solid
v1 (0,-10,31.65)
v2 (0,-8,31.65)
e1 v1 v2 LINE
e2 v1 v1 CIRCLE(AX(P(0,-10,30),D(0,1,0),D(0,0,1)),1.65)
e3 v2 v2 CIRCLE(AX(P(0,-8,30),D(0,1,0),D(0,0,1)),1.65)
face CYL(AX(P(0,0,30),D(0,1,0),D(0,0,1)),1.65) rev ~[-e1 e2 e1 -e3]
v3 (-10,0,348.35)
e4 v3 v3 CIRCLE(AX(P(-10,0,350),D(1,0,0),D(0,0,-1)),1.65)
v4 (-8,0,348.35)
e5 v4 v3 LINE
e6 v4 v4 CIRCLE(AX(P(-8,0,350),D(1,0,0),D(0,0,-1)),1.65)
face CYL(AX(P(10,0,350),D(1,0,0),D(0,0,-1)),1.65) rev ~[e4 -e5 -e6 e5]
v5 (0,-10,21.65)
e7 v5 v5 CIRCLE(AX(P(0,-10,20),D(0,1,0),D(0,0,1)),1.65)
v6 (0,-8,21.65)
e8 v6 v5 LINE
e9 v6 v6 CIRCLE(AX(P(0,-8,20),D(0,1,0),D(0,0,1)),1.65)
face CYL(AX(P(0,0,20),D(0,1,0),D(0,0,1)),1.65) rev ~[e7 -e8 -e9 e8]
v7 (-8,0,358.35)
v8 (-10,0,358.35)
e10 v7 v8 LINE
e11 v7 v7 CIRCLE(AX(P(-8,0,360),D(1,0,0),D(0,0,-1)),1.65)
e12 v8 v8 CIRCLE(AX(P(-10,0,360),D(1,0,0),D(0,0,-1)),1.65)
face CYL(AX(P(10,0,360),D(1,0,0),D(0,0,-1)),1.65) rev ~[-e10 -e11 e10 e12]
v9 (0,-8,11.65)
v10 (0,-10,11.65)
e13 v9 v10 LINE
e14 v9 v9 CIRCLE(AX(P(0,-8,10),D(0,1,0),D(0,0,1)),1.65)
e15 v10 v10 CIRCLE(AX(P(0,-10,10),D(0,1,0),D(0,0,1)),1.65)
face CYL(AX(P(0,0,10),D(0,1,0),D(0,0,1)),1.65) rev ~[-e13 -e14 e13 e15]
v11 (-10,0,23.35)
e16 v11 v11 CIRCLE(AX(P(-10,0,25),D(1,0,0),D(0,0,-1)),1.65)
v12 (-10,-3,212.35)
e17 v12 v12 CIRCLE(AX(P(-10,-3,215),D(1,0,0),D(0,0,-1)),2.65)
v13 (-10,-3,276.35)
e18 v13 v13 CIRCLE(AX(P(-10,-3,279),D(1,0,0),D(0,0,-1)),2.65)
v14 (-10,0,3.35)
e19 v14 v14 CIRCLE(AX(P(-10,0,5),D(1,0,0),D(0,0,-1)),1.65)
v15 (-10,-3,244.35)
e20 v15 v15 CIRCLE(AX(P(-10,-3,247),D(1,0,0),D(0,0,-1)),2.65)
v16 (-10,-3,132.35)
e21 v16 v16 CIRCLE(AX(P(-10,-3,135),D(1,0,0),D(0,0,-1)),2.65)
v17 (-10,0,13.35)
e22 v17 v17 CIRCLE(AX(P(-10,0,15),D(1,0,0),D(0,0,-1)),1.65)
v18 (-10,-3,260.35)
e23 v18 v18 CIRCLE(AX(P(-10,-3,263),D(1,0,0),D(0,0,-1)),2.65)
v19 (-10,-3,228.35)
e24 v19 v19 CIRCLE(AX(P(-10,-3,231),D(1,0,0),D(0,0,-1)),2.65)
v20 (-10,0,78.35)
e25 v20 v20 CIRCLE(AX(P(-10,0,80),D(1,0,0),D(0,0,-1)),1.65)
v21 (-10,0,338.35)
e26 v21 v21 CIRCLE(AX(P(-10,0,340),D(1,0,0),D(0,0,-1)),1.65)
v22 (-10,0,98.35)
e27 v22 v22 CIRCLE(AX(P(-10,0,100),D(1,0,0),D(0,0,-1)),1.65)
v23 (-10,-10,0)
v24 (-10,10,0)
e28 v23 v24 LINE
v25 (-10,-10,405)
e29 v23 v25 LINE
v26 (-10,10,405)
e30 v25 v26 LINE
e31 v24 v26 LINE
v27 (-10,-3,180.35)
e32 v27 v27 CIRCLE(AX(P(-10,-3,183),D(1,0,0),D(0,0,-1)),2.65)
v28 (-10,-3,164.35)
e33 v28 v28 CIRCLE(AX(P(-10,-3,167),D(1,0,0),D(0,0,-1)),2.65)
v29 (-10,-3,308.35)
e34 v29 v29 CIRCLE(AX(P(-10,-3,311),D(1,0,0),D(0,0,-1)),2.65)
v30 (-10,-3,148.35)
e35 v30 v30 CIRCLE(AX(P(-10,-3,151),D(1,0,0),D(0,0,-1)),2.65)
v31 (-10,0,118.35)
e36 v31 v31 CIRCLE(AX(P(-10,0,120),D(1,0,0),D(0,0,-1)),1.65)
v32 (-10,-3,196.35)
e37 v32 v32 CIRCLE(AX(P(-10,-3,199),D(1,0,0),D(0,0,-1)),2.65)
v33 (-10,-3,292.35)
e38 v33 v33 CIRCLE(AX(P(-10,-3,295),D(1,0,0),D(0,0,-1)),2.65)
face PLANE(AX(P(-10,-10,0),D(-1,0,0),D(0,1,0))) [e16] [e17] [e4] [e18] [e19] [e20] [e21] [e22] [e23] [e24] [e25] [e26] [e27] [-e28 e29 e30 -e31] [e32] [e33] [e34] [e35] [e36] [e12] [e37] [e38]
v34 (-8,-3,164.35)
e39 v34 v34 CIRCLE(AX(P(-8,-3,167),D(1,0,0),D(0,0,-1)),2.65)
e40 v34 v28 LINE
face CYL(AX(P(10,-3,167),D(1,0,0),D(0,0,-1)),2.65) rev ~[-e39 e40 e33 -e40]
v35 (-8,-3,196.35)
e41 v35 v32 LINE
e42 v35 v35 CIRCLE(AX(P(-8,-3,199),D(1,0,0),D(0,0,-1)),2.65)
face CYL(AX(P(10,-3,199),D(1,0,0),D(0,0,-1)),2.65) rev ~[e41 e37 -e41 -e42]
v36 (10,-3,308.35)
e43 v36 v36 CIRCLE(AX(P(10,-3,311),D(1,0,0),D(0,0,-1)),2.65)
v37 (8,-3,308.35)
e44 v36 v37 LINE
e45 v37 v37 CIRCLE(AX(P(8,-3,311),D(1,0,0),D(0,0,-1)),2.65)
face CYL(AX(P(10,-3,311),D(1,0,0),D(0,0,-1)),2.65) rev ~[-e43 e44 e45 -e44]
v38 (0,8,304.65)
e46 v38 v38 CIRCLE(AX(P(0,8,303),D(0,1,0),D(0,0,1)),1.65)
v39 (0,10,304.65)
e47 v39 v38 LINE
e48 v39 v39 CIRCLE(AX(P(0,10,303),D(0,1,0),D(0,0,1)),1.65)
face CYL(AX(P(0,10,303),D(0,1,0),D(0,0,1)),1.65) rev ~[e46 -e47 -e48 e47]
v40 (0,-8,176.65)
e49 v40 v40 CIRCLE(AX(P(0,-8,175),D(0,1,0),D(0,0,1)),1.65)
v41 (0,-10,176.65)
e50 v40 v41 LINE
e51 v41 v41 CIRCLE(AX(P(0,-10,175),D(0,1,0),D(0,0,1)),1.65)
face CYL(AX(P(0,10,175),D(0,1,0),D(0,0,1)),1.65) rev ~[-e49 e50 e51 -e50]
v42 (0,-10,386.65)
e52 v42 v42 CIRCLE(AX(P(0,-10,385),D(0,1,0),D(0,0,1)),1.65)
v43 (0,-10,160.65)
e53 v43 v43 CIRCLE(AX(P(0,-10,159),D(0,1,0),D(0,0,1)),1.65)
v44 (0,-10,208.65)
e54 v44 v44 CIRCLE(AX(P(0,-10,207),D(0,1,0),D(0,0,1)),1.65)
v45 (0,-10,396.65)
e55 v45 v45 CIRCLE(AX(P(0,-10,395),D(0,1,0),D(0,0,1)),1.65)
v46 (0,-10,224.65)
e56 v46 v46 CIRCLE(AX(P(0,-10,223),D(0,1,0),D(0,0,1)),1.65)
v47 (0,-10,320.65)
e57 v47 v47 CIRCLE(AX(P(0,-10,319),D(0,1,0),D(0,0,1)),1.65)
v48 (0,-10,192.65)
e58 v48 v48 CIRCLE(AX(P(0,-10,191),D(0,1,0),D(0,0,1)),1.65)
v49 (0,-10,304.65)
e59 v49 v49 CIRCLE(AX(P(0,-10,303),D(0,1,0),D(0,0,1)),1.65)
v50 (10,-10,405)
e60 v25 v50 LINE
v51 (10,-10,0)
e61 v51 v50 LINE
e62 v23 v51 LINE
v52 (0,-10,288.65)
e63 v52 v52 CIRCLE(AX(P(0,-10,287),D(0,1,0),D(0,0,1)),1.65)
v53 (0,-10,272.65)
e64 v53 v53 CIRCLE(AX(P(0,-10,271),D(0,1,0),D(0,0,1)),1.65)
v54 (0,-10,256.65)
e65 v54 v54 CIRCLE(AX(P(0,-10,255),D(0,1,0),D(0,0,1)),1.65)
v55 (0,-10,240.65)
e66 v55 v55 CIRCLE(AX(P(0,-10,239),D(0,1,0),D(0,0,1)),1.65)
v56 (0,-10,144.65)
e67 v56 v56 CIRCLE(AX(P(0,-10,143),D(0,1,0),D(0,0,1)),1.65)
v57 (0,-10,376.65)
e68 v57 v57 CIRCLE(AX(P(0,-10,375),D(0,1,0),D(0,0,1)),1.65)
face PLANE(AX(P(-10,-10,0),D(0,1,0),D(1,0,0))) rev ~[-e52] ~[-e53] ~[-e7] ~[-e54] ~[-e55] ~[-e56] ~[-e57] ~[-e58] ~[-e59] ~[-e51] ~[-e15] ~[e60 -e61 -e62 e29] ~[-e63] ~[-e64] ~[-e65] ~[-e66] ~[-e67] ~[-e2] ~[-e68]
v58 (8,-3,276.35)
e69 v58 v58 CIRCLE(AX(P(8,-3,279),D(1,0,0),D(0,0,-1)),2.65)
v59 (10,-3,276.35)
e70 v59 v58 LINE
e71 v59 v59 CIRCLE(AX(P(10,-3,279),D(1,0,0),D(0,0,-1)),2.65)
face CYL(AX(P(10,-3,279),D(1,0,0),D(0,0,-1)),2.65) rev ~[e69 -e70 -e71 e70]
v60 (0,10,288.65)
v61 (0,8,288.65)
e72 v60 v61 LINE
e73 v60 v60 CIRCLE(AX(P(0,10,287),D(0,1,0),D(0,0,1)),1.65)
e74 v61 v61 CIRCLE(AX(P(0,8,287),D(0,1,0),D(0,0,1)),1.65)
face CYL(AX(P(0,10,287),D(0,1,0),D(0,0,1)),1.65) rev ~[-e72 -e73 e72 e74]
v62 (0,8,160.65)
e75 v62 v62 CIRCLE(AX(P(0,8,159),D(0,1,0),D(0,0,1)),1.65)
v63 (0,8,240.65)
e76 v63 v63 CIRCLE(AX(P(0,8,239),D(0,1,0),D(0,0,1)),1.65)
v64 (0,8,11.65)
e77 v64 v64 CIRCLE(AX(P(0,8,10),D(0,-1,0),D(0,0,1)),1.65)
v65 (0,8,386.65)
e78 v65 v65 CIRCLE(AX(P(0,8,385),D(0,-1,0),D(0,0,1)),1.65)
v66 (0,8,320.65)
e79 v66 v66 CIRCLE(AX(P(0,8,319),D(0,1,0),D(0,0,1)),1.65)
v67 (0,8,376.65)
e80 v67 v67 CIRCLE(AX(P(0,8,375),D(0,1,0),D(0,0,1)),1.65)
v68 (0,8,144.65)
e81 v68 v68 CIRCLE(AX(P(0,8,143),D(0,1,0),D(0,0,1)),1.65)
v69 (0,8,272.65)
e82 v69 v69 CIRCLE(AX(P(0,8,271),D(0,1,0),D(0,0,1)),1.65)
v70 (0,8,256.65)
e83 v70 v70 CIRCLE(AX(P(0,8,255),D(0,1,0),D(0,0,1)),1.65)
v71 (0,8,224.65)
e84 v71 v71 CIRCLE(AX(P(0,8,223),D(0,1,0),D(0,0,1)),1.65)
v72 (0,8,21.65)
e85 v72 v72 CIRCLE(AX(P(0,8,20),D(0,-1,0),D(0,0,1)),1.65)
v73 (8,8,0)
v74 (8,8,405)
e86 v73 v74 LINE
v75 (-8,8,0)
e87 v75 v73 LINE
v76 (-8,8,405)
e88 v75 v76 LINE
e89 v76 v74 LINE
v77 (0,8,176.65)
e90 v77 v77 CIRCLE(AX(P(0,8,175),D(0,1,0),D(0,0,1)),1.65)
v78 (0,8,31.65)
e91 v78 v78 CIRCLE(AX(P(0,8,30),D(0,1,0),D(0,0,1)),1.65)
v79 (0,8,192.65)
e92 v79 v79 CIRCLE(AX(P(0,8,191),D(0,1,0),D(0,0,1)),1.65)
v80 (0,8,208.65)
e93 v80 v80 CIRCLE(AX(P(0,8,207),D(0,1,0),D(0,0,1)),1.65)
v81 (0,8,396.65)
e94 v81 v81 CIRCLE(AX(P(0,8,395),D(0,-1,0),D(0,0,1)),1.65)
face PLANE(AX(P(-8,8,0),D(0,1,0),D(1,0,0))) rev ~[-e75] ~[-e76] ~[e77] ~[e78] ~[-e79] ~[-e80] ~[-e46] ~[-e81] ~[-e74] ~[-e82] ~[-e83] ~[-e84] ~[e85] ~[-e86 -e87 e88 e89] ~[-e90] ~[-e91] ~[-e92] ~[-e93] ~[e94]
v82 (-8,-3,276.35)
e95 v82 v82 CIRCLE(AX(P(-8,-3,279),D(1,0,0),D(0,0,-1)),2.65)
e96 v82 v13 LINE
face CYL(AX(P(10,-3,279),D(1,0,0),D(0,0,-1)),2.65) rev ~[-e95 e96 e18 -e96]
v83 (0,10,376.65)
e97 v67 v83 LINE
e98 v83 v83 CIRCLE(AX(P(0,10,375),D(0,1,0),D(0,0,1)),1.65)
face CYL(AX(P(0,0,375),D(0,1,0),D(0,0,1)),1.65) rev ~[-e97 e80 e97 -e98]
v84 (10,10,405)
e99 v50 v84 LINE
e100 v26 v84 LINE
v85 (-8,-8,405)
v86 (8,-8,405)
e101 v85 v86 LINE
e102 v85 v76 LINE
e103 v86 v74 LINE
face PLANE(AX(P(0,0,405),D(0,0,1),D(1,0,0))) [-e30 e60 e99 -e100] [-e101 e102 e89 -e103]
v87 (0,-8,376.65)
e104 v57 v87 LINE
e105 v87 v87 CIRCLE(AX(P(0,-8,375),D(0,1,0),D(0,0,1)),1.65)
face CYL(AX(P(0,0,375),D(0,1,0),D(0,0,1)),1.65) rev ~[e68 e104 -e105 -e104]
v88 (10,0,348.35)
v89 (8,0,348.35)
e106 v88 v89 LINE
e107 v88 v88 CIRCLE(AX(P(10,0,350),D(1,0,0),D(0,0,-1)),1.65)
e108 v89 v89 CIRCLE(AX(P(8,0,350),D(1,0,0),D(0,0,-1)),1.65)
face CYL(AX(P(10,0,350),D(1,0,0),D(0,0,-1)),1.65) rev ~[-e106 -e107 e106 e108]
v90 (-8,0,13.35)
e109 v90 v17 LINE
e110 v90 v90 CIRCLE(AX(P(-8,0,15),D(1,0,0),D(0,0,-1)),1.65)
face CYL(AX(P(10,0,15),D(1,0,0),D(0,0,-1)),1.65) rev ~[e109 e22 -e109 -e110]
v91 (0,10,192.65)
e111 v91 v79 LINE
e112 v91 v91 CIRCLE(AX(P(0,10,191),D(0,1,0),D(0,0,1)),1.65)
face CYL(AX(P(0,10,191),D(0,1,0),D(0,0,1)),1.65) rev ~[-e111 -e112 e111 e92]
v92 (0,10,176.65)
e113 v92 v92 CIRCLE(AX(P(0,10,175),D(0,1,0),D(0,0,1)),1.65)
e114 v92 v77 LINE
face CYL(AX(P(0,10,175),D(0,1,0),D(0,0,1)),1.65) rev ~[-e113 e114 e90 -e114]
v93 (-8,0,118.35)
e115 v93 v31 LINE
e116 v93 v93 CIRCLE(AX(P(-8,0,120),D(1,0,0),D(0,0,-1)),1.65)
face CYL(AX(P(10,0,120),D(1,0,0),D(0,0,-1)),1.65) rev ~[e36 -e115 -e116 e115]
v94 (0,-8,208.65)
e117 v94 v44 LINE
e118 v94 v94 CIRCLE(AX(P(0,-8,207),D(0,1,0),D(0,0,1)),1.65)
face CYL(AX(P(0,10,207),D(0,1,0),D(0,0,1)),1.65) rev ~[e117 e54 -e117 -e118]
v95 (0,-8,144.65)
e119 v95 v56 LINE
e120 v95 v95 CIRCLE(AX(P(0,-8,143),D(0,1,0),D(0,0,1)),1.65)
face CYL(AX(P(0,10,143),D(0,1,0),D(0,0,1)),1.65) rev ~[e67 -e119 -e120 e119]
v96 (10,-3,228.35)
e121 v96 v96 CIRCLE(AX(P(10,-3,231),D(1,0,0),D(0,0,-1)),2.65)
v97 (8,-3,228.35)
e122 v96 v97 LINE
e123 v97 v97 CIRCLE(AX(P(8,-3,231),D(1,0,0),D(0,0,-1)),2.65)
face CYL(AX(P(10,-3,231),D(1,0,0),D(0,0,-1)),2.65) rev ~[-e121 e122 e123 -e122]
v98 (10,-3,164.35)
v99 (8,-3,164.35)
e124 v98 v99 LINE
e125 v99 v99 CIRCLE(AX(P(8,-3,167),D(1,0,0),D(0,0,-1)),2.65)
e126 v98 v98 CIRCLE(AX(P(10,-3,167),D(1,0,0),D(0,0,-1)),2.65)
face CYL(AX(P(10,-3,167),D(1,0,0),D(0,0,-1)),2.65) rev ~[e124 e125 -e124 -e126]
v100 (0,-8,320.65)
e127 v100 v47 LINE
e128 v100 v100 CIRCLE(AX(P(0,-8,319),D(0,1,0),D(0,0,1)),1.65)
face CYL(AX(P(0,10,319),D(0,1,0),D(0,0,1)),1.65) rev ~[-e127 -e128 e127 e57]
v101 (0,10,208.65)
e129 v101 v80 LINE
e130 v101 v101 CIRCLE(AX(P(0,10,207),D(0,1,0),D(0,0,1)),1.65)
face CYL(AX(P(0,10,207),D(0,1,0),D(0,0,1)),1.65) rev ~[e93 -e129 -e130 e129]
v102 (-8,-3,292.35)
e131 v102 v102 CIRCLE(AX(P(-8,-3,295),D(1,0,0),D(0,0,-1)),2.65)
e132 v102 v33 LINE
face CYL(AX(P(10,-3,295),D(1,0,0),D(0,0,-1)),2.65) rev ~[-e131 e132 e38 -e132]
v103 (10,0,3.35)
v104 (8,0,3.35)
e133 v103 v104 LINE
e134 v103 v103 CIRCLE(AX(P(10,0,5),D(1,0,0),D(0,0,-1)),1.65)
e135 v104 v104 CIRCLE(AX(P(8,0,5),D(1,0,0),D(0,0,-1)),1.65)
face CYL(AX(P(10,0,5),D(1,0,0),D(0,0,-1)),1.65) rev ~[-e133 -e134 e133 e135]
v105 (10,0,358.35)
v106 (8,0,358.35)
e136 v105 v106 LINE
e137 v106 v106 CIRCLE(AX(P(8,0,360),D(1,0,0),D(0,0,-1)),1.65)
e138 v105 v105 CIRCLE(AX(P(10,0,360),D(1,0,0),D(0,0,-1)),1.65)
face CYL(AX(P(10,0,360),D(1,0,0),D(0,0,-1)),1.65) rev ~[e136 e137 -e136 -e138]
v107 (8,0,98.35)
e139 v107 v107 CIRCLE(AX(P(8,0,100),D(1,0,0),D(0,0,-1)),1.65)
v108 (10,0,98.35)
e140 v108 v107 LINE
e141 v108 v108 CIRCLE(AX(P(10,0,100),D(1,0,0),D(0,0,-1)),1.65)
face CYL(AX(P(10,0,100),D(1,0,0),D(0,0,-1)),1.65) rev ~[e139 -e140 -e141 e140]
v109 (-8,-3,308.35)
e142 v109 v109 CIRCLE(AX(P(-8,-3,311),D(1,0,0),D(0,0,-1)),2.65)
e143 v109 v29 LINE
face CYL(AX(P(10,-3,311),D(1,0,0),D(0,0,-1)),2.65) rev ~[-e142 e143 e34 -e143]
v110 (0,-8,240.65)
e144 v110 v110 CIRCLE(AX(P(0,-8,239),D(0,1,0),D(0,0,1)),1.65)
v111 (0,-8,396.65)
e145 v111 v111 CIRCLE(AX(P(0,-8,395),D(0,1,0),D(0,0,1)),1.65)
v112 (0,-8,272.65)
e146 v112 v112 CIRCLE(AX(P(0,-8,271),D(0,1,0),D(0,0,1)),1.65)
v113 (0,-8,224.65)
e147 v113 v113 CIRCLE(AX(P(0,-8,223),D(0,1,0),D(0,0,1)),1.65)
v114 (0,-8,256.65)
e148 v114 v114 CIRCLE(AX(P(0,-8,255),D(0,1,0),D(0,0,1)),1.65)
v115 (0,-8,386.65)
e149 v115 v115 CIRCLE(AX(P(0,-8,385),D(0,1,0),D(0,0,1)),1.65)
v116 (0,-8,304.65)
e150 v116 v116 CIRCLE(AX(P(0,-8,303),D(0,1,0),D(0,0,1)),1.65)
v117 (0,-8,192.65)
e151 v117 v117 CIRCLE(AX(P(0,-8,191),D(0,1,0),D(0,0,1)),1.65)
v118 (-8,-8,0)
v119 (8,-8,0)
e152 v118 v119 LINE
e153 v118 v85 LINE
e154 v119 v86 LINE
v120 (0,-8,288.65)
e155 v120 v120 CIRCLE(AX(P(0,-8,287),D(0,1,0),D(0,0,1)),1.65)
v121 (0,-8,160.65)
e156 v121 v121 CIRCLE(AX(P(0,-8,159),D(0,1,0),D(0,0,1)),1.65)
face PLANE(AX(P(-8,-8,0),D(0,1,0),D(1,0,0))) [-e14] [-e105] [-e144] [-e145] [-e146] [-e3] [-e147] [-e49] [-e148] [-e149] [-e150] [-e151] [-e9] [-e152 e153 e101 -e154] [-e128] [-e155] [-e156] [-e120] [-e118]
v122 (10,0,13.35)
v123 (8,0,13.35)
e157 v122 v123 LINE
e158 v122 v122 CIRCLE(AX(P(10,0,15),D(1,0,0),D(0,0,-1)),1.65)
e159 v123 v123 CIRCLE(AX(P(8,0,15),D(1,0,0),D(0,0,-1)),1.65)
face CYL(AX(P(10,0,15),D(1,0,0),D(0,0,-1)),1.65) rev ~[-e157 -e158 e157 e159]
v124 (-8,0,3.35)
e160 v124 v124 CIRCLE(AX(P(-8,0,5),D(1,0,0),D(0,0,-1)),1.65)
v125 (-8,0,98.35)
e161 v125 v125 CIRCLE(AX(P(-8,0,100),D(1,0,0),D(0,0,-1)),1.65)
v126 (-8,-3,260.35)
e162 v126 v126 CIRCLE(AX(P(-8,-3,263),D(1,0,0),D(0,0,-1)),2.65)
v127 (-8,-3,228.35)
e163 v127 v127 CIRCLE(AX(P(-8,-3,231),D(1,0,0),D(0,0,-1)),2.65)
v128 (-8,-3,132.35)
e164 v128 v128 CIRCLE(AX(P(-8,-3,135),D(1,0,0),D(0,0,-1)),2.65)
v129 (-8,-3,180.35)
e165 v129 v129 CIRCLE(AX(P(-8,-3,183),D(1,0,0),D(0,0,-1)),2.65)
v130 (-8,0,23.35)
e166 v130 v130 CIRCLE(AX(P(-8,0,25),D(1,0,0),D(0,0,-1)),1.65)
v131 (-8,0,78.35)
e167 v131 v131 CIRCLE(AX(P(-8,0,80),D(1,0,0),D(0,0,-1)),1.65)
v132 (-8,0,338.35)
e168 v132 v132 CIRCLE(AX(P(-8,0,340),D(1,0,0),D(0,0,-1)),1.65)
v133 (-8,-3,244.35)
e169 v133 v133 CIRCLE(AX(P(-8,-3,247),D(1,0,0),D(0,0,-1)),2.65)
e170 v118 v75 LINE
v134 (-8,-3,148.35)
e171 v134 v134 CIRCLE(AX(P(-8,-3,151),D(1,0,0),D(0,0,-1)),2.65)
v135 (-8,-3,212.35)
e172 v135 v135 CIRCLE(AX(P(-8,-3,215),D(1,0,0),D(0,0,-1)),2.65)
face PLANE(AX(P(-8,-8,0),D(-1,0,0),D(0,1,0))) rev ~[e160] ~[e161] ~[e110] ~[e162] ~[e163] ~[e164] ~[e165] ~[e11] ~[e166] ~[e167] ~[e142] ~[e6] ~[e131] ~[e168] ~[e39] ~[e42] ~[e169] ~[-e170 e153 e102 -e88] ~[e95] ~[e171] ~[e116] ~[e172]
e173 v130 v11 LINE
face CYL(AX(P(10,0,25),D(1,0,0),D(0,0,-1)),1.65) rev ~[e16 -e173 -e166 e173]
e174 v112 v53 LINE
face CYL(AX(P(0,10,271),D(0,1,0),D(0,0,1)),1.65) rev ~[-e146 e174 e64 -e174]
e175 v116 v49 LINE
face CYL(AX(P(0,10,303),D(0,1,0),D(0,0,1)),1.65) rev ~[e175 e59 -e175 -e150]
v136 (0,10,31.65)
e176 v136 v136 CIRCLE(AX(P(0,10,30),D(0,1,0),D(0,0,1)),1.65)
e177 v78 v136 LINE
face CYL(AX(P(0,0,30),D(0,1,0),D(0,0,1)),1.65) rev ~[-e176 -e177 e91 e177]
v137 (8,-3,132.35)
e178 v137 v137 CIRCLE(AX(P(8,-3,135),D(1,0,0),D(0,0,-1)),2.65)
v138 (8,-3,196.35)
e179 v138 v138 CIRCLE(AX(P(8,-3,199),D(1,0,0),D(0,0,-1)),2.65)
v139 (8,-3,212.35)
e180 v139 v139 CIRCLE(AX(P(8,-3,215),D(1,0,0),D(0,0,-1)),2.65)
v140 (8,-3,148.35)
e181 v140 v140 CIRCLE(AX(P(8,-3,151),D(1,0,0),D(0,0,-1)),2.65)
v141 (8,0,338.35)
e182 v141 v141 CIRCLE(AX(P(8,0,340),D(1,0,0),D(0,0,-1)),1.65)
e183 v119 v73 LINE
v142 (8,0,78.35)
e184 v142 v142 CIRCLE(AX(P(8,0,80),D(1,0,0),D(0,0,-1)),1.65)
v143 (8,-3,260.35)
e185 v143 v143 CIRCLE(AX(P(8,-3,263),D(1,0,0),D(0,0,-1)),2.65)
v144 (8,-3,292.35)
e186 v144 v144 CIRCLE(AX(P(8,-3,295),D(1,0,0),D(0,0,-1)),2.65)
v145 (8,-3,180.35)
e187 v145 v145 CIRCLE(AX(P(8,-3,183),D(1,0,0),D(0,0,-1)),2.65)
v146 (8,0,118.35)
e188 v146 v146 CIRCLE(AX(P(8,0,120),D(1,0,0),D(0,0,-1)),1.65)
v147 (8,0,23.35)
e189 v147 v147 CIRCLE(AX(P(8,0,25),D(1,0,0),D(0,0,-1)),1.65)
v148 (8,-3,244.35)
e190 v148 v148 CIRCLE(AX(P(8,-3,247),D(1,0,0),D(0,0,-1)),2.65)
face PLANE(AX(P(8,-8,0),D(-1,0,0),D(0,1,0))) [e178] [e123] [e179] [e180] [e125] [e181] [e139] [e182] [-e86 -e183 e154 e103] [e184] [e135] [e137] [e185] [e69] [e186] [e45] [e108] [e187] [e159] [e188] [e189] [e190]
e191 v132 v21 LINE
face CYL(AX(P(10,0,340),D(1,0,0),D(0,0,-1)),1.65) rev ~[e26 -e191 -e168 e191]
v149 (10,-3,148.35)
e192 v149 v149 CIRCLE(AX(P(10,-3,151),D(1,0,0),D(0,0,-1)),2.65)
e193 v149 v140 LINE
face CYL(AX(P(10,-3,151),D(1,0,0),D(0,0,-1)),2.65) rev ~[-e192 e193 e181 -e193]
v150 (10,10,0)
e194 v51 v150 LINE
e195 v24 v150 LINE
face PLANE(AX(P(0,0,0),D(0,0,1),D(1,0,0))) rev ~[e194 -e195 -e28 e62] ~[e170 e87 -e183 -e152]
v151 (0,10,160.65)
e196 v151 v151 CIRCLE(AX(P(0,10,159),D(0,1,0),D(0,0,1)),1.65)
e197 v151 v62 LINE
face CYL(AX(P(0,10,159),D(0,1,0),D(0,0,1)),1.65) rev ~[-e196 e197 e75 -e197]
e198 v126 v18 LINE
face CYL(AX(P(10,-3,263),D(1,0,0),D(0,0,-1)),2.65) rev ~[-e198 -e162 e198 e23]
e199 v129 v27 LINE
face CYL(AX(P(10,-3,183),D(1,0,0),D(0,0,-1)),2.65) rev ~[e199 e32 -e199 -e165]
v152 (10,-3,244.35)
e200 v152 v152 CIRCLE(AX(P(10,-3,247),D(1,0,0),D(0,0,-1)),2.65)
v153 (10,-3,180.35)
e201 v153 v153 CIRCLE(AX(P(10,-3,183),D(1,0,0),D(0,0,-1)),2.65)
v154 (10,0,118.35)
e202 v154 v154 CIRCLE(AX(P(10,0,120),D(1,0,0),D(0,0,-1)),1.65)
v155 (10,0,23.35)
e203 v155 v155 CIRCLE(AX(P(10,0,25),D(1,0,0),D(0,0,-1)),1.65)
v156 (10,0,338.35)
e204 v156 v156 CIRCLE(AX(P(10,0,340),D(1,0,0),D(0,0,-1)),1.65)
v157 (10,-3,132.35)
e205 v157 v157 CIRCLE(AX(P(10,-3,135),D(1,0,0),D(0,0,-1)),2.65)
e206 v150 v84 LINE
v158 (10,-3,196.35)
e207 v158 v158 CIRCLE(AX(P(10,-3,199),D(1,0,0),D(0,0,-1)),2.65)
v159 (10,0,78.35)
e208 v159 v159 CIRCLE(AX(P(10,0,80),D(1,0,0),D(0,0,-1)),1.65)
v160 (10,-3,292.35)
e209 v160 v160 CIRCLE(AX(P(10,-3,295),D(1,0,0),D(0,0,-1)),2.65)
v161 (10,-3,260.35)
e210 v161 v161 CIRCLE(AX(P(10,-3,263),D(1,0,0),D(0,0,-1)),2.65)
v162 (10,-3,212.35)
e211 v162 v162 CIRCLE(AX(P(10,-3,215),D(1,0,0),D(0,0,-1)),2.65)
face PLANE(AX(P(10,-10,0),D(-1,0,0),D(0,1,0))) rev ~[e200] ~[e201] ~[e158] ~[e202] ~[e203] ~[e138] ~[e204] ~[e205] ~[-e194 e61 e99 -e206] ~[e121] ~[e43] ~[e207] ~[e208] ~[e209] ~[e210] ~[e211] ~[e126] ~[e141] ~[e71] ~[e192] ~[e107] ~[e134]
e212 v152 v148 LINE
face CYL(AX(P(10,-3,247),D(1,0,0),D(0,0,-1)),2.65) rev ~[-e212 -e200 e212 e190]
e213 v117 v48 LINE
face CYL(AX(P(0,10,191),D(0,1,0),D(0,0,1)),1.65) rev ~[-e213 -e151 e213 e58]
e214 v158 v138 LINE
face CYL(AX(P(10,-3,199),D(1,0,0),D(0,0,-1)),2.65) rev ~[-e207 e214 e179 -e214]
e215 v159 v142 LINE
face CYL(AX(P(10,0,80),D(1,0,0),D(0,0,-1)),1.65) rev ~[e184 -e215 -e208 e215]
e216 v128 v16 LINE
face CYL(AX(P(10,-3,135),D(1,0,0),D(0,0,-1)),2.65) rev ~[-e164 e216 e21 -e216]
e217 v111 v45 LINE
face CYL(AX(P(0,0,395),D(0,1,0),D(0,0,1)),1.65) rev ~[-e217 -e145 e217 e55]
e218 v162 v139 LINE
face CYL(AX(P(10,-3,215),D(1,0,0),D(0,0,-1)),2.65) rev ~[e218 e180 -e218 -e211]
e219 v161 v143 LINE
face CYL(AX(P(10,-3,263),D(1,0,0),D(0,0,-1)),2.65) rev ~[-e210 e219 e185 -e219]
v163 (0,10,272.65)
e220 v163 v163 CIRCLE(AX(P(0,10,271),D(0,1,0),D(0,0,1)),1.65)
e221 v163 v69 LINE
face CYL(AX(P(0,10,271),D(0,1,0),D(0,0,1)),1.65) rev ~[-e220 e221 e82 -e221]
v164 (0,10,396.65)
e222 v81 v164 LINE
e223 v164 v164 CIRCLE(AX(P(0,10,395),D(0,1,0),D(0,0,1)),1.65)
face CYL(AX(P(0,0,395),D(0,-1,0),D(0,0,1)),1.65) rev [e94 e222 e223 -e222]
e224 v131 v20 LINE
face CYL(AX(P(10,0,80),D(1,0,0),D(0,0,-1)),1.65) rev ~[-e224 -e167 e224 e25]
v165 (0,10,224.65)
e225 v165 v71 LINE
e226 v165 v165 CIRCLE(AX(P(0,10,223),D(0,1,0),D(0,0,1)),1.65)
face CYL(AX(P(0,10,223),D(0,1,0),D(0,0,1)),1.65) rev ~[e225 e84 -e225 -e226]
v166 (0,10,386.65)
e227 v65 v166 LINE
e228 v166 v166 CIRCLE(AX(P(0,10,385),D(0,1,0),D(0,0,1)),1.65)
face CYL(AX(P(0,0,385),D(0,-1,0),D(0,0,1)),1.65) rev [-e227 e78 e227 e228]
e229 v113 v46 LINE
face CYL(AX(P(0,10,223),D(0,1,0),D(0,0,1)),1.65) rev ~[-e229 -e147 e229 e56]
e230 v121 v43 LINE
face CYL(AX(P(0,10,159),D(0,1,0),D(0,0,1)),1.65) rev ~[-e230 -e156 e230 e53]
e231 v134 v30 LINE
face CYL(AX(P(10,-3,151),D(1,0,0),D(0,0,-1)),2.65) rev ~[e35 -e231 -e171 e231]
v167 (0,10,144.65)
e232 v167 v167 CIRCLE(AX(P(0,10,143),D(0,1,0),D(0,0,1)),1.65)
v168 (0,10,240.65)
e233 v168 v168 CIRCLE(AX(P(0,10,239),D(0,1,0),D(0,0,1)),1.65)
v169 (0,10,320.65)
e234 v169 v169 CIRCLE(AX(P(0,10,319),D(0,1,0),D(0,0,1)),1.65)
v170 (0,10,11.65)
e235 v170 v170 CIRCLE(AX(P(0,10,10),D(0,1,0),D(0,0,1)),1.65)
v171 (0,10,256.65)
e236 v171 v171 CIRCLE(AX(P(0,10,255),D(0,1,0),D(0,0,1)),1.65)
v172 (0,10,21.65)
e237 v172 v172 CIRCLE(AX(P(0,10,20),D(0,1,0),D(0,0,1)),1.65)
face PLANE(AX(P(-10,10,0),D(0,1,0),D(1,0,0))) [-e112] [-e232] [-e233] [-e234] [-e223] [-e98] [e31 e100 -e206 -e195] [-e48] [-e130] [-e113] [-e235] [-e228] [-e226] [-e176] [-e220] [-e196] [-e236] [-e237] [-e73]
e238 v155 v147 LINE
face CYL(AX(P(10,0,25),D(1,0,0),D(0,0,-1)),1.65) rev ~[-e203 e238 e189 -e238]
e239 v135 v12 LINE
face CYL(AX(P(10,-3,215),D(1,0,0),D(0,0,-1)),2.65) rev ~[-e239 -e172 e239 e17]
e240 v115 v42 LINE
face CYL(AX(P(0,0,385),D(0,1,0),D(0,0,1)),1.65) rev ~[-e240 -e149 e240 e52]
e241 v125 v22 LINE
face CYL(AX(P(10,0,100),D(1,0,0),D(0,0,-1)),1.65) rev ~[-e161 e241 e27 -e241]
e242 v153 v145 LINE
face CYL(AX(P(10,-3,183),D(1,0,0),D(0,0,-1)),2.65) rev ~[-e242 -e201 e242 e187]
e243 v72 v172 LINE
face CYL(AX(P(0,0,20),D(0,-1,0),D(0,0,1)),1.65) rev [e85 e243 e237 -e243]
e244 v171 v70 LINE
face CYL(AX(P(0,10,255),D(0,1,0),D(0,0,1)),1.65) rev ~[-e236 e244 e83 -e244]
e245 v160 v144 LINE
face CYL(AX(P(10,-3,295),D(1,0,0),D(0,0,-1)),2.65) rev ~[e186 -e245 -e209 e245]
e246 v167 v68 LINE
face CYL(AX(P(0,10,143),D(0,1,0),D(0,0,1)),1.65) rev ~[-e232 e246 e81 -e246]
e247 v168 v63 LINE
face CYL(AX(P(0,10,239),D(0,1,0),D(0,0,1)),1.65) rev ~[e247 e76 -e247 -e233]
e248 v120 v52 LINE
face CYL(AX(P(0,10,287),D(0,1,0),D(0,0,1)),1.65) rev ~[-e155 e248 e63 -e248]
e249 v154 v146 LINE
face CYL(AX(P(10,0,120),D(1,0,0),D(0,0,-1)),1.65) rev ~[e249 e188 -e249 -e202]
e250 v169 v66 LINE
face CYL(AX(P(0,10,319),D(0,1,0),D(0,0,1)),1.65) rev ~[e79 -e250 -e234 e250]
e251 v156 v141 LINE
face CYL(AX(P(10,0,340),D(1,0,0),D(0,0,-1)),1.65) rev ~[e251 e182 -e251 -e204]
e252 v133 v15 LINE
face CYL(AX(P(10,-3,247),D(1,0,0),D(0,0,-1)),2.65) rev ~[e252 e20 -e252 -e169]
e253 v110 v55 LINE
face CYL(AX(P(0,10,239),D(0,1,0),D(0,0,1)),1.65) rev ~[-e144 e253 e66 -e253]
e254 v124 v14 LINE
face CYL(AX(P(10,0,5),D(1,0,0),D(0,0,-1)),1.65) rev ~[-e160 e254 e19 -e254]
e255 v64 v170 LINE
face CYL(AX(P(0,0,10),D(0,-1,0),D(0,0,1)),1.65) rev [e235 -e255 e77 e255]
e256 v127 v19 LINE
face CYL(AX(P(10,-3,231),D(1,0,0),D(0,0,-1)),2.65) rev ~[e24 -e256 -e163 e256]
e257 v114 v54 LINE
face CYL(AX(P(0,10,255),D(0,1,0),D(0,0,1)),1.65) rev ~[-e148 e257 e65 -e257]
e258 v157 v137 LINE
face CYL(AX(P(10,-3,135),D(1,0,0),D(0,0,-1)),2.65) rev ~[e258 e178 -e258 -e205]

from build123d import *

# Parameters (mm, degrees)
SKETCH_1_W          = 20
SKETCH_1_H          = 20
SKETCH_1_W_2        = 16
SKETCH_1_H_2        = 16
EXTRUDE_1_DEPTH     = 405
SKETCH_2_R          = 1.65
CUT_EXTRUDE_1_DEPTH = 10
SKETCH_4_R          = 1.65
CUT_EXTRUDE_3_DEPTH = 10
SKETCH_10_R         = 1.65
SKETCH_10_R_2       = 2.65
CUT_EXTRUDE_4_DEPTH = 406.616814247
SKETCH_11_R         = 1.65
CUT_EXTRUDE_5_DEPTH = 406.616814247


with BuildPart() as part:
    # 草图1 → 凸台-拉伸1 (new body)
    with BuildSketch(Plane.XY):
        Rectangle(SKETCH_1_W, SKETCH_1_H)
        Rectangle(SKETCH_1_W_2, SKETCH_1_H_2, mode=Mode.SUBTRACT)
    extrude(amount=EXTRUDE_1_DEPTH)

    # 草图2 → 切除-拉伸1 (cut, symmetric)
    with BuildSketch(Plane(origin=(0, 0, 0), x_dir=(1, 0, 0), z_dir=(0, 1, 0))):
        with Locations(Location((0, -395, 0), (0, 0, 270))):
            Circle(SKETCH_2_R)
        with Locations(Location((0, -385, 0), (0, 0, 270))):
            Circle(SKETCH_2_R)
        with Locations(Location((0, -375, 0), (0, 0, 270))):
            Circle(SKETCH_2_R)
    extrude(amount=CUT_EXTRUDE_1_DEPTH, both=True, mode=Mode.SUBTRACT)

    # 草图4 → 切除-拉伸3 (cut, symmetric)
    with BuildSketch(Plane(origin=(0, 0, 0), x_dir=(1, 0, 0), z_dir=(0, 1, 0))):
        with Locations(Location((0, -10, 0), (0, 0, 270))):
            Circle(SKETCH_4_R)
        with Locations(Location((0, -20, 0), (0, 0, 270))):
            Circle(SKETCH_4_R)
        with Locations(Location((0, -30, 0), (0, 0, 270))):
            Circle(SKETCH_4_R)
    extrude(amount=CUT_EXTRUDE_3_DEPTH, both=True, mode=Mode.SUBTRACT)

    # 草图10 → 切除-拉伸4 (cut, through all)
    with BuildSketch(Plane(origin=(10, 0, 0), x_dir=(0, 0, -1), z_dir=(1, 0, 0))):
        with Locations((-120, 0)):
            Circle(SKETCH_10_R)
        with Locations((-100, 0)):
            Circle(SKETCH_10_R)
        with Locations((-80, 0)):
            Circle(SKETCH_10_R)
        with Locations((-135, -3)):
            Circle(SKETCH_10_R_2)
        with Locations((-151, -3)):
            Circle(SKETCH_10_R_2)
        with Locations((-167, -3)):
            Circle(SKETCH_10_R_2)
        with Locations((-183, -3)):
            Circle(SKETCH_10_R_2)
        with Locations((-199, -3)):
            Circle(SKETCH_10_R_2)
        with Locations((-215, -3)):
            Circle(SKETCH_10_R_2)
        with Locations((-231, -3)):
            Circle(SKETCH_10_R_2)
        with Locations((-247, -3)):
            Circle(SKETCH_10_R_2)
        with Locations((-263, -3)):
            Circle(SKETCH_10_R_2)
        with Locations((-279, -3)):
            Circle(SKETCH_10_R_2)
        with Locations((-295, -3)):
            Circle(SKETCH_10_R_2)
        with Locations((-311, -3)):
            Circle(SKETCH_10_R_2)
        with Locations((-360, 0)):
            Circle(SKETCH_10_R)
        with Locations((-350, 0)):
            Circle(SKETCH_10_R)
        with Locations((-340, 0)):
            Circle(SKETCH_10_R)
        with Locations((-5, 0)):
            Circle(SKETCH_10_R)
        with Locations((-15, 0)):
            Circle(SKETCH_10_R)
        with Locations((-25, 0)):
            Circle(SKETCH_10_R)
    extrude(amount=-CUT_EXTRUDE_4_DEPTH, mode=Mode.SUBTRACT)

    # 草图11 → 切除-拉伸5 (cut, through all)
    with BuildSketch(Plane(origin=(0, 10, 0), x_dir=(1, 0, 0), z_dir=(0, 1, 0))):
        with Locations(Location((0, -143, 0), (0, 0, 270))):
            Circle(SKETCH_11_R)
        with Locations(Location((0, -159, 0), (0, 0, 270))):
            Circle(SKETCH_11_R)
        with Locations(Location((0, -175, 0), (0, 0, 270))):
            Circle(SKETCH_11_R)
        with Locations(Location((0, -191, 0), (0, 0, 270))):
            Circle(SKETCH_11_R)
        with Locations(Location((0, -207, 0), (0, 0, 270))):
            Circle(SKETCH_11_R)
        with Locations(Location((0, -223, 0), (0, 0, 270))):
            Circle(SKETCH_11_R)
        with Locations(Location((0, -239, 0), (0, 0, 270))):
            Circle(SKETCH_11_R)
        with Locations(Location((0, -255, 0), (0, 0, 270))):
            Circle(SKETCH_11_R)
        with Locations(Location((0, -271, 0), (0, 0, 270))):
            Circle(SKETCH_11_R)
        with Locations(Location((0, -287, 0), (0, 0, 270))):
            Circle(SKETCH_11_R)
        with Locations(Location((0, -303, 0), (0, 0, 270))):
            Circle(SKETCH_11_R)
        with Locations(Location((0, -319, 0), (0, 0, 270))):
            Circle(SKETCH_11_R)
    extrude(amount=-CUT_EXTRUDE_5_DEPTH, mode=Mode.SUBTRACT)


solid = part.part
